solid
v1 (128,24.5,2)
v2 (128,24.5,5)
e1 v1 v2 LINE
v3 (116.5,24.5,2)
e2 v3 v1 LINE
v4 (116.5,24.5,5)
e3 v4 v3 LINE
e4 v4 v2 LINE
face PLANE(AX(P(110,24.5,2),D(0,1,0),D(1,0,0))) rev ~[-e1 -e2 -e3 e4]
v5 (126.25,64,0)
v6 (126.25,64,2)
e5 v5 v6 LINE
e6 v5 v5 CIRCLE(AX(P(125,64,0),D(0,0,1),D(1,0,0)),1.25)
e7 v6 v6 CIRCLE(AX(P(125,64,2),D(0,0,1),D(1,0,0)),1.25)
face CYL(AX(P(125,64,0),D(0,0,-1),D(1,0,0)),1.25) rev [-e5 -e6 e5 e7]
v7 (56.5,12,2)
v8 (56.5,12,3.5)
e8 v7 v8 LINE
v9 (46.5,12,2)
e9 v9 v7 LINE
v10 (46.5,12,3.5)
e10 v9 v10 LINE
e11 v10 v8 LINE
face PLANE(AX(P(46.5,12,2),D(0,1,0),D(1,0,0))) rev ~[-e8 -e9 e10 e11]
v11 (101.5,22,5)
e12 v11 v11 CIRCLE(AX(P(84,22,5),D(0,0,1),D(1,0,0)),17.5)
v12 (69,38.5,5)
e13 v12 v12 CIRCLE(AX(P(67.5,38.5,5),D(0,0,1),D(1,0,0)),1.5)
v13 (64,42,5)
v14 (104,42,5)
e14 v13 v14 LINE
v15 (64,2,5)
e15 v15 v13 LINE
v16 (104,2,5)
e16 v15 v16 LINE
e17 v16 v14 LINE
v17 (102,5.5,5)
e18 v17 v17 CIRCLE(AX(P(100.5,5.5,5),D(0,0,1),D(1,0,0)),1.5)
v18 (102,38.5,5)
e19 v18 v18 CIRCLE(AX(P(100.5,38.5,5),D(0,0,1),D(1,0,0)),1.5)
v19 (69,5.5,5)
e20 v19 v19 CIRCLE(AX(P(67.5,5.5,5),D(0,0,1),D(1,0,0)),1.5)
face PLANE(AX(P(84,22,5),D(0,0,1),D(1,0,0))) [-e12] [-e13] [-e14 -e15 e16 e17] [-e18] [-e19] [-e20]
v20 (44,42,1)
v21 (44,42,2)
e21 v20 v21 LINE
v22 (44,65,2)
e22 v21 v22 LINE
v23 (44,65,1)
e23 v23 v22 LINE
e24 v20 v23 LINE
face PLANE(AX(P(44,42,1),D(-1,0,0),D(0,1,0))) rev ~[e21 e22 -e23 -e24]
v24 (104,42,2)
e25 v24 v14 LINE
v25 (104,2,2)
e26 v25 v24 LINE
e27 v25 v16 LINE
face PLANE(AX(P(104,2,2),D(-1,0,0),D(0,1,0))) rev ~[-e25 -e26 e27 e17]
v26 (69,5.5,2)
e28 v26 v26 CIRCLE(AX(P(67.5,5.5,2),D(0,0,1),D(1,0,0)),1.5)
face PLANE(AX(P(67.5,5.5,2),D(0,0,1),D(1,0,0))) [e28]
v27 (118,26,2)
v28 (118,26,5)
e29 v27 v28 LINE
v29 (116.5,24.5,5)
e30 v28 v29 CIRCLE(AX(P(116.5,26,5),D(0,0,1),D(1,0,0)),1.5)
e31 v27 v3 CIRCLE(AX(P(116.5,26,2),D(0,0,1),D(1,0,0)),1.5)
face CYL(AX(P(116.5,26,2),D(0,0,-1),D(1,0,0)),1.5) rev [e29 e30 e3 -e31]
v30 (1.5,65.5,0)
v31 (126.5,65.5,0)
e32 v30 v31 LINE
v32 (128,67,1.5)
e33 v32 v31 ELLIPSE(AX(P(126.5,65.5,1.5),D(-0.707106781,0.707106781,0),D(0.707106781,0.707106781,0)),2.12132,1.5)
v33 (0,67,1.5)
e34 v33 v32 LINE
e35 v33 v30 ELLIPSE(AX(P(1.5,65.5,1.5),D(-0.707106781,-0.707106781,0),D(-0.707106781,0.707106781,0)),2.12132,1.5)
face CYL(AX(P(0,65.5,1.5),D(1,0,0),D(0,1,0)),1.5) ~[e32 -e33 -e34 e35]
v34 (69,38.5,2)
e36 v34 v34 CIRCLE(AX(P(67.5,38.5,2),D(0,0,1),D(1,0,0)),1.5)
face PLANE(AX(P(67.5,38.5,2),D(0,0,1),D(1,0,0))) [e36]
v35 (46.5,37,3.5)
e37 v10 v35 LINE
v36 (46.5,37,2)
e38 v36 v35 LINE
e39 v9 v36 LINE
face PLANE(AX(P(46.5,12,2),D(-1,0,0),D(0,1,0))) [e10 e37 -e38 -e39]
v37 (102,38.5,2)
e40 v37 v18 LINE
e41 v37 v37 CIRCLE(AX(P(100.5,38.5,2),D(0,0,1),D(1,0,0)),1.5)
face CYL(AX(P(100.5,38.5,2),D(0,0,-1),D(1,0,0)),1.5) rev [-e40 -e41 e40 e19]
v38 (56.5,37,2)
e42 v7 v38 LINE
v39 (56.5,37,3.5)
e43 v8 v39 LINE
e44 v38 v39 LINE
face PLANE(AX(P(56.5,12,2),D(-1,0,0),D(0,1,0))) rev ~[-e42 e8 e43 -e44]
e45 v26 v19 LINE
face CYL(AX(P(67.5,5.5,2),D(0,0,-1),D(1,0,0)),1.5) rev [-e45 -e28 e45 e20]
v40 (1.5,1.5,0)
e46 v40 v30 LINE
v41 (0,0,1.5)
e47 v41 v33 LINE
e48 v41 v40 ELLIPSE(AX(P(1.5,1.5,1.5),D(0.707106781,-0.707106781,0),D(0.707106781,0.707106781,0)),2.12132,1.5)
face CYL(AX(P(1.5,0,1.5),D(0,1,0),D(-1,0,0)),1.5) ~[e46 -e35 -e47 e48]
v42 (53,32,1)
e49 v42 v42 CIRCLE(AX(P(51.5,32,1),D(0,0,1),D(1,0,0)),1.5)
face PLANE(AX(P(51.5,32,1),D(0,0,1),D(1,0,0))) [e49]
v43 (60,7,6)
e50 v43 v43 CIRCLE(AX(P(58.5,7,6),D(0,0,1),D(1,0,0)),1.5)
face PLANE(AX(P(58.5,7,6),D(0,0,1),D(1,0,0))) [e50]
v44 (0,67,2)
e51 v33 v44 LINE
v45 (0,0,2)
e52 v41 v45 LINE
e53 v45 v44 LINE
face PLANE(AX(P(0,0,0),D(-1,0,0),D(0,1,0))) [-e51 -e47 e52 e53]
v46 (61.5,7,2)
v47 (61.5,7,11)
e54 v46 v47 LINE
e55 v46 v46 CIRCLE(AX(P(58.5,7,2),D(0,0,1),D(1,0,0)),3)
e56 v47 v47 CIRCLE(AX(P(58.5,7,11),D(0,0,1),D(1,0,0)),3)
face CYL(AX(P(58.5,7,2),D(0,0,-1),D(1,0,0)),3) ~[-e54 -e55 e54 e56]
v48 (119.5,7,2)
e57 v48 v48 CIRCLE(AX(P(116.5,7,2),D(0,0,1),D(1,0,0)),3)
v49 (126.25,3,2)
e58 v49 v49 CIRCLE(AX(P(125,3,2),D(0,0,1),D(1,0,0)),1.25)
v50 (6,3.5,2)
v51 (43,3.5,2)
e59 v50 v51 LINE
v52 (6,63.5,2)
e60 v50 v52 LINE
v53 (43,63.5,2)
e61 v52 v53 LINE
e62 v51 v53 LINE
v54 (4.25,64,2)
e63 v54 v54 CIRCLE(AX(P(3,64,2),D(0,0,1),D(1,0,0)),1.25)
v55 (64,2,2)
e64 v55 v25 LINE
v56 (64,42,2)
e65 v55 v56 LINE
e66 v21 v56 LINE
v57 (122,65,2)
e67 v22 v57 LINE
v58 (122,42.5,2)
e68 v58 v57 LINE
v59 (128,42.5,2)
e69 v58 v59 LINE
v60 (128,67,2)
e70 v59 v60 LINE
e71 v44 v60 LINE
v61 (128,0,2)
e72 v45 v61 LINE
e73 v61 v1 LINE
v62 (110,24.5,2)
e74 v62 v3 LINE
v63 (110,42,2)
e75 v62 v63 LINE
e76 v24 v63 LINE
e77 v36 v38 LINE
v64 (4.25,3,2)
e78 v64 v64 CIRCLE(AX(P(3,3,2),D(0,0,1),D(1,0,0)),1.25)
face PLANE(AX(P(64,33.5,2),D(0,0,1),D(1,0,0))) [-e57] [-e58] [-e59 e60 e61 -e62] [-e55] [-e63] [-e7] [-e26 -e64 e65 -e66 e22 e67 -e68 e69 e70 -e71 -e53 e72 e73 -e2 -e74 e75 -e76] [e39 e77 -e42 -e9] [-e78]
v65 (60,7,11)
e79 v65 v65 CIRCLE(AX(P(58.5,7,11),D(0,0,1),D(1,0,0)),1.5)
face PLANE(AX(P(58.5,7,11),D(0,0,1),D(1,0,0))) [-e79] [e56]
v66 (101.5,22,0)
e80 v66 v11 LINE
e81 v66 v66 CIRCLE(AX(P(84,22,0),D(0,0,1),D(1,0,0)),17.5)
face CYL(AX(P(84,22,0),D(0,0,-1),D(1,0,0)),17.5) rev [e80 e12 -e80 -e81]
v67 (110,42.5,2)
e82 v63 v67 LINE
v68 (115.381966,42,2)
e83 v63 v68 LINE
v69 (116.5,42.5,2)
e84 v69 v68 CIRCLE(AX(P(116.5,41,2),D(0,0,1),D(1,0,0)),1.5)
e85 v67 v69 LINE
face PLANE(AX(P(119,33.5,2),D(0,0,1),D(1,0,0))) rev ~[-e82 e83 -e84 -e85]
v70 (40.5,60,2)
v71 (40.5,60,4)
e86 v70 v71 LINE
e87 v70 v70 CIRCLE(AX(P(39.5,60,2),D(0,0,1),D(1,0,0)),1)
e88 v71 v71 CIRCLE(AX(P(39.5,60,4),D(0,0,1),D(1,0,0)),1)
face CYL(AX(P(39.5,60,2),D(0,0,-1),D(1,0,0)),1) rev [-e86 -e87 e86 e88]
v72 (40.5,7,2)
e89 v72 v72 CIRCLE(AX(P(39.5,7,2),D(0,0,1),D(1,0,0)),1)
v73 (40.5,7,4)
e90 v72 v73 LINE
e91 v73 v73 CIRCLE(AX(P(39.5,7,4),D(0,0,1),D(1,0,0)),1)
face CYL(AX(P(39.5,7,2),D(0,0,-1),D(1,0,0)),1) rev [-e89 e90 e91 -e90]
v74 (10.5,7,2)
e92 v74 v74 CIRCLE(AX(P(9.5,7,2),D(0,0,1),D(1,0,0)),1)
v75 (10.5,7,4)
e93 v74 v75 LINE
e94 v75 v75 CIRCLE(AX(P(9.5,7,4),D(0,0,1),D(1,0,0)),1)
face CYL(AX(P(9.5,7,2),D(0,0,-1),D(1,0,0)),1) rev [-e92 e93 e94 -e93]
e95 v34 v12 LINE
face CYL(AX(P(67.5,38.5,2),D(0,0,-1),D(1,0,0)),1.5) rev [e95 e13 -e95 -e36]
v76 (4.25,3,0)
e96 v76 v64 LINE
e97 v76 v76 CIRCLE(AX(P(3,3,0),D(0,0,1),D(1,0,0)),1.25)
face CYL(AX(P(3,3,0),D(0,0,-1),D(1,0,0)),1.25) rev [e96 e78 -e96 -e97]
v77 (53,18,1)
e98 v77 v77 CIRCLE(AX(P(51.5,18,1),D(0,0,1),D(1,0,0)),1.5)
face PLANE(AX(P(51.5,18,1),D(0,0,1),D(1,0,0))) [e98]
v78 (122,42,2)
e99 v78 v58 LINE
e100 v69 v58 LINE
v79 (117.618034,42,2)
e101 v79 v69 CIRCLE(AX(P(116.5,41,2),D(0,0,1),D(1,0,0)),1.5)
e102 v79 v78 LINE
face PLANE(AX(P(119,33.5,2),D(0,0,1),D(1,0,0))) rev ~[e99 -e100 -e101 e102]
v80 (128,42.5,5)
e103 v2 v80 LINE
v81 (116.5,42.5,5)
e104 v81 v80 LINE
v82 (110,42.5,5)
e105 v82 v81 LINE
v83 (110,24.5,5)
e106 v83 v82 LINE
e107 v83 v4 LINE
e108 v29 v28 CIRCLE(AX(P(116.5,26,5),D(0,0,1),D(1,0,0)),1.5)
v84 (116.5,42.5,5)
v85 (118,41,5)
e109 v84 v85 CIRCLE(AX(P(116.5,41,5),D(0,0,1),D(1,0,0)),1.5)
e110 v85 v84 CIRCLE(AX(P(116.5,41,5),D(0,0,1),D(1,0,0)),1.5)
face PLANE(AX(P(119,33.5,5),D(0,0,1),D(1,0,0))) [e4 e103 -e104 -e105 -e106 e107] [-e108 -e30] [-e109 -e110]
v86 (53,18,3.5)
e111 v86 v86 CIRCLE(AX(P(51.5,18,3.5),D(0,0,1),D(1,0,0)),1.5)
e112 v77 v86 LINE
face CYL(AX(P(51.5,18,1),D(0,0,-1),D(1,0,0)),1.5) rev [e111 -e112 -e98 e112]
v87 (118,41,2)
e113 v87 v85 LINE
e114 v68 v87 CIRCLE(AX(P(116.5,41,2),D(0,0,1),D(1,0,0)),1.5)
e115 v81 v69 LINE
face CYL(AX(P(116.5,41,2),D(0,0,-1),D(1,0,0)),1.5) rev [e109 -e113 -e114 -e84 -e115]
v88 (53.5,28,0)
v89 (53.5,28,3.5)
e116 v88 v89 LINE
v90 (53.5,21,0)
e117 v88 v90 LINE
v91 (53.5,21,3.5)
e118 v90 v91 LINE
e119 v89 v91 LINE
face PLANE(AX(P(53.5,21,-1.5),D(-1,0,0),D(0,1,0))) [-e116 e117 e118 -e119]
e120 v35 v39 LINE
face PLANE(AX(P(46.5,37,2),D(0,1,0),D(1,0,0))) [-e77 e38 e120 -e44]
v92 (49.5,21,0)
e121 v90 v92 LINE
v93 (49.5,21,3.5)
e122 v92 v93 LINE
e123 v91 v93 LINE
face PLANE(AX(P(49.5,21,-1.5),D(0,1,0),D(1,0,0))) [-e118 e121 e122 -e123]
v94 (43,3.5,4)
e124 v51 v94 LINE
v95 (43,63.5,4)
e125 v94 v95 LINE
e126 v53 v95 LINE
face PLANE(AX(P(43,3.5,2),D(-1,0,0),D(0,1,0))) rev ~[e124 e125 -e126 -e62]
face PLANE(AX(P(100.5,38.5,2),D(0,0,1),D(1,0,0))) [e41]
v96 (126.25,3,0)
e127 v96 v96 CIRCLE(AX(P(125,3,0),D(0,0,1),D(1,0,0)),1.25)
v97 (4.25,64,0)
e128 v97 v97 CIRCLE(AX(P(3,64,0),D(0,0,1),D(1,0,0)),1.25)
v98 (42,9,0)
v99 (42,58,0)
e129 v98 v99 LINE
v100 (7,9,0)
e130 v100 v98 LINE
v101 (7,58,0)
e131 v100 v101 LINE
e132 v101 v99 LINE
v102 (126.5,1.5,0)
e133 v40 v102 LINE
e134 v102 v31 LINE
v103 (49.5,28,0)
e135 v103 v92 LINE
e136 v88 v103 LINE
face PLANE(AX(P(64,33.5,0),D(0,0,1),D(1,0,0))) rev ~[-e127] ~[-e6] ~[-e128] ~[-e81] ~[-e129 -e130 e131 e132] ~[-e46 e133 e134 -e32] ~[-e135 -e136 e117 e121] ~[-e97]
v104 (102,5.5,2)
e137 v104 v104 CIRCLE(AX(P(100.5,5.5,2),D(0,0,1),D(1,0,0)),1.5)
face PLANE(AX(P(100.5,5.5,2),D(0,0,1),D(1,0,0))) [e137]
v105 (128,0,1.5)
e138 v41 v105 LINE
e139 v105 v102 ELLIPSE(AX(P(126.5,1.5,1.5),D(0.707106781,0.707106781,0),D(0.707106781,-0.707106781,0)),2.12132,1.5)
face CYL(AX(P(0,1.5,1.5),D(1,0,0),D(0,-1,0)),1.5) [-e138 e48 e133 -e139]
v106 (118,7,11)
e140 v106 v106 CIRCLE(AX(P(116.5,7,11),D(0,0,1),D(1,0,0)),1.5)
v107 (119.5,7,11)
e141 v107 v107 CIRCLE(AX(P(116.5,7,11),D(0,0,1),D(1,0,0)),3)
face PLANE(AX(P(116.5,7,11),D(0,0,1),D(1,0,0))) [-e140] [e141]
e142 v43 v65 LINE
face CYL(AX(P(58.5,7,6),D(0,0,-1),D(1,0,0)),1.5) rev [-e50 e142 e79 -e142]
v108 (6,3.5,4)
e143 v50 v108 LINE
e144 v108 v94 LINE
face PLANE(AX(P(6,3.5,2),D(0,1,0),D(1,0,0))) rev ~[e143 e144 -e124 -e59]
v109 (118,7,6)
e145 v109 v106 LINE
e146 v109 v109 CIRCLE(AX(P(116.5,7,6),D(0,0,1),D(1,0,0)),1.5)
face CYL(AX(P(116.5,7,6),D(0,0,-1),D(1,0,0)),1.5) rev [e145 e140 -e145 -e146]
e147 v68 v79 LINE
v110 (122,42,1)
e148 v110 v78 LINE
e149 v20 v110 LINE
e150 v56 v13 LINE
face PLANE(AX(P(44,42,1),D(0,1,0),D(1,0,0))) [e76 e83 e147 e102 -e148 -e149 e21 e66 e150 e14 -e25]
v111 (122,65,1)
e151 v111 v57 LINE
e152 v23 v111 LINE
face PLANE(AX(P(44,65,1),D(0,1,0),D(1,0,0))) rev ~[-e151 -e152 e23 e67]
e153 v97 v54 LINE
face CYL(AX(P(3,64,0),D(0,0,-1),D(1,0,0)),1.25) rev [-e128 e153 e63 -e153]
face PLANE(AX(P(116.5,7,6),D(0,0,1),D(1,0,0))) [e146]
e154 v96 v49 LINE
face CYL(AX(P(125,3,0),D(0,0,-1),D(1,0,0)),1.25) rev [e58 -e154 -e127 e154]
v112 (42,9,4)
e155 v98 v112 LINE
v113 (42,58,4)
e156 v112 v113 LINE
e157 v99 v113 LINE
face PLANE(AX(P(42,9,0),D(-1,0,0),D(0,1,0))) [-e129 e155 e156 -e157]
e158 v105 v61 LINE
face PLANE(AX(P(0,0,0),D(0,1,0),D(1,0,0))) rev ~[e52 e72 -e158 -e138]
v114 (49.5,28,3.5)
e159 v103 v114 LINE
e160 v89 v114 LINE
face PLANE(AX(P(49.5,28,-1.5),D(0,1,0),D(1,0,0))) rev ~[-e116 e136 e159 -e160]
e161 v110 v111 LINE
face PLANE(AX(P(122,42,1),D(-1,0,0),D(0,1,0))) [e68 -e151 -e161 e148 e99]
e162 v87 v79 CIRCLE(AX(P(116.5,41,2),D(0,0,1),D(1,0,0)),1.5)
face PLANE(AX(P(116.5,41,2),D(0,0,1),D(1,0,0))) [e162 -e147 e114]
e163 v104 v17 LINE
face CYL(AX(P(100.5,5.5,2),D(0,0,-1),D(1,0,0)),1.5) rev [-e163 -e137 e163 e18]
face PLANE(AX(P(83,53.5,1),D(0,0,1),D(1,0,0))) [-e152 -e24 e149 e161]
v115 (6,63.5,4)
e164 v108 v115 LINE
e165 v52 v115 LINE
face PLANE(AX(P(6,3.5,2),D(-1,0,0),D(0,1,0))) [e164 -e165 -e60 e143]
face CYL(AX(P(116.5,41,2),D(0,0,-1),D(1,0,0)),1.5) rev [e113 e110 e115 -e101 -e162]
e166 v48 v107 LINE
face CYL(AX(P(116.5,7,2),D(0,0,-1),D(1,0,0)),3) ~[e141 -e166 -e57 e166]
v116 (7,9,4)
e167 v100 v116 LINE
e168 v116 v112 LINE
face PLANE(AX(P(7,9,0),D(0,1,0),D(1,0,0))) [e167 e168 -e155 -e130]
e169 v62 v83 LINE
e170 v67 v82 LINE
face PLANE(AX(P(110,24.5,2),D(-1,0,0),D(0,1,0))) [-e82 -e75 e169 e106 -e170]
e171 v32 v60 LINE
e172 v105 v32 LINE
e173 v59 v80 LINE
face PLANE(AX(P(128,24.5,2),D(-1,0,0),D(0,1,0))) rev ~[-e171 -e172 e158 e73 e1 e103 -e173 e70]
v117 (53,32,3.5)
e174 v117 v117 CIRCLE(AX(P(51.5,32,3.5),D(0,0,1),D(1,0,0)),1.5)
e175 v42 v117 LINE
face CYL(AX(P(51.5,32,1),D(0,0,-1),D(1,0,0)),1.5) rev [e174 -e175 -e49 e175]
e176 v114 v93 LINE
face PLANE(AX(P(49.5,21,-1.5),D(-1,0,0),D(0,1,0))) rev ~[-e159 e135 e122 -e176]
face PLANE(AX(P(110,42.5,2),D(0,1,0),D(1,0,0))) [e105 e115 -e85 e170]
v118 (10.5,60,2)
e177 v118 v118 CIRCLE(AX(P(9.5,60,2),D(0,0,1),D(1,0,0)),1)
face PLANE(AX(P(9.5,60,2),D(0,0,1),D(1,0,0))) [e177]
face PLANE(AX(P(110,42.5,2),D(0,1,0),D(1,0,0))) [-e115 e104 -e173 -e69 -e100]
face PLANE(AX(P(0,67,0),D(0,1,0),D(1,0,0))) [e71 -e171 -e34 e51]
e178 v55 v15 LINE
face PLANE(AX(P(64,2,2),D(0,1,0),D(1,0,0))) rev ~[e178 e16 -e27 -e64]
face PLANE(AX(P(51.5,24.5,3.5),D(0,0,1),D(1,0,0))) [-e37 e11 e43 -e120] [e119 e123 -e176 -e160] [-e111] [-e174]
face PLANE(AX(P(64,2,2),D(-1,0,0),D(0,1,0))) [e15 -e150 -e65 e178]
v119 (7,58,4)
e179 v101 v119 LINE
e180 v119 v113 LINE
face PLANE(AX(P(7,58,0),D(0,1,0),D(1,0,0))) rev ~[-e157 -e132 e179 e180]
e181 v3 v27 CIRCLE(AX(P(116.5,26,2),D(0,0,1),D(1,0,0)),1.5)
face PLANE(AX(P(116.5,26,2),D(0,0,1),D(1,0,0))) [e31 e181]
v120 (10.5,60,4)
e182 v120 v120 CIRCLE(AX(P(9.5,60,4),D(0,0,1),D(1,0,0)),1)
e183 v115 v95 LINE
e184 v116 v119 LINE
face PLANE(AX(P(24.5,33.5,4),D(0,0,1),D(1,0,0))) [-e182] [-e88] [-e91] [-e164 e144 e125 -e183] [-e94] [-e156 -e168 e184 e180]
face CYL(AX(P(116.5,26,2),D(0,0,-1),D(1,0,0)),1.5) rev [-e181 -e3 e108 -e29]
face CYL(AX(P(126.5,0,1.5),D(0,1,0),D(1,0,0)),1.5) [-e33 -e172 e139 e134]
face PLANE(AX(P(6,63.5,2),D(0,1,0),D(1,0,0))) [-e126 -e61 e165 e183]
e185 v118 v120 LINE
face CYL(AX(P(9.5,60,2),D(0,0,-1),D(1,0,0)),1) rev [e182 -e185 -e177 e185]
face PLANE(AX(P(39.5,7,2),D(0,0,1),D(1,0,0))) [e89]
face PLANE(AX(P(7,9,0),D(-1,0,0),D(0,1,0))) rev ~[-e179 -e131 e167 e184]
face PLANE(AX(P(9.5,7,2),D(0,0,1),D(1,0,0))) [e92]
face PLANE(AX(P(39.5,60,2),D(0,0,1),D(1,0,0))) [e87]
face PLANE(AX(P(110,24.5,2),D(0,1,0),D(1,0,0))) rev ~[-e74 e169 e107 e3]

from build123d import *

# Parameters (mm, degrees)
BOX_W             = 128
BOX_H             = 67
BOX_DEPTH         = 2
BOX001_W          = 37
BOX001_H          = 60
BOX001_DEPTH      = 2
BOX002_W          = 35
BOX002_H          = 49
BOX002_DEPTH      = 4
BOX003_W          = 78
BOX003_H          = 23
BOX003_DEPTH      = 1
BOX004_W          = 40
BOX004_H          = 40
BOX004_DEPTH      = 3
CYLINDER_R        = 17.5
CYLINDER_DEPTH    = 5
CYLINDER001_R     = 1.5
CYLINDER001_DEPTH = 3
CYLINDER002_R     = 1.5
CYLINDER002_DEPTH = 3
CYLINDER003_R     = 1.5
CYLINDER003_DEPTH = 3
CYLINDER004_R     = 1.5
CYLINDER004_DEPTH = 3
BOX005_W          = 18
BOX005_H          = 18
BOX005_DEPTH      = 3
CYLINDER005_R     = 1.5
CYLINDER005_DEPTH = 3
CYLINDER006_R     = 1.5
CYLINDER006_DEPTH = 3
CYLINDER007_R     = 3
CYLINDER007_DEPTH = 9
CYLINDER008_R     = 1.5
CYLINDER008_DEPTH = 5
CYLINDER009_R     = 3
CYLINDER009_DEPTH = 9
CYLINDER010_R     = 1.5
CYLINDER010_DEPTH = 5
BOX006_W          = 10
BOX006_H          = 25
BOX006_DEPTH      = 1.5
BOX007_W          = 4
BOX007_H          = 7
BOX007_DEPTH      = 6
CYLINDER011_R     = 1.5
CYLINDER011_DEPTH = 2.5
CYLINDER012_R     = 1.5
CYLINDER012_DEPTH = 2.5
CYLINDER013_R     = 1
CYLINDER013_DEPTH = 2
CYLINDER014_R     = 1
CYLINDER014_DEPTH = 2
CYLINDER015_R     = 1
CYLINDER015_DEPTH = 2
CYLINDER016_R     = 1
CYLINDER016_DEPTH = 2
CYLINDER017_R     = 1.25
CYLINDER017_DEPTH = 2
CYLINDER018_R     = 1.25
CYLINDER018_DEPTH = 2
CYLINDER019_R     = 1.25
CYLINDER019_DEPTH = 2
CYLINDER020_R     = 1.25
CYLINDER020_DEPTH = 2
FILLET_R          = 1.5


with BuildPart() as part:
    # Box → Box (join)
    with BuildSketch(Plane.XY):
        with Locations((64, 33.5)):
            Rectangle(BOX_W, BOX_H)
    extrude(amount=BOX_DEPTH)

    # Box001 → Box001 (join)
    with BuildSketch(Plane(origin=(6, 3.5, 2), x_dir=(1, 0, 0), z_dir=(0, 0, 1))):
        with Locations((18.5, 30)):
            Rectangle(BOX001_W, BOX001_H)
    extrude(amount=BOX001_DEPTH)

    # Box002 → Box002 (cut)
    with BuildSketch(Plane(origin=(7, 9, 0), x_dir=(1, 0, 0), z_dir=(0, 0, 1))):
        with Locations((17.5, 24.5)):
            Rectangle(BOX002_W, BOX002_H)
    extrude(amount=BOX002_DEPTH, mode=Mode.SUBTRACT)

    # Box003 → Box003 (cut)
    with BuildSketch(Plane(origin=(44, 42, 1), x_dir=(1, 0, 0), z_dir=(0, 0, 1))):
        with Locations((39, 11.5)):
            Rectangle(BOX003_W, BOX003_H)
    extrude(amount=BOX003_DEPTH, mode=Mode.SUBTRACT)

    # Box004 → Box004 (join)
    with BuildSketch(Plane(origin=(64, 2, 2), x_dir=(1, 0, 0), z_dir=(0, 0, 1))):
        with Locations((20, 20)):
            Rectangle(BOX004_W, BOX004_H)
    extrude(amount=BOX004_DEPTH)

    # Cylinder → Cylinder (cut)
    with BuildSketch(Plane(origin=(84, 22, 0), x_dir=(1, 0, 0), z_dir=(0, 0, 1))):
        Circle(CYLINDER_R)
    extrude(amount=CYLINDER_DEPTH, mode=Mode.SUBTRACT)

    # Cylinder001 → Cylinder001 (cut)
    with BuildSketch(Plane(origin=(67.5, 5.5, 2), x_dir=(1, 0, 0), z_dir=(0, 0, 1))):
        Circle(CYLINDER001_R)
    extrude(amount=CYLINDER001_DEPTH, mode=Mode.SUBTRACT)

    # Cylinder002 → Cylinder002 (cut)
    with BuildSketch(Plane(origin=(67.5, 38.5, 2), x_dir=(1, 0, 0), z_dir=(0, 0, 1))):
        Circle(CYLINDER002_R)
    extrude(amount=CYLINDER002_DEPTH, mode=Mode.SUBTRACT)

    # Cylinder003 → Cylinder003 (cut)
    with BuildSketch(Plane(origin=(100.5, 38.5, 2), x_dir=(1, 0, 0), z_dir=(0, 0, 1))):
        Circle(CYLINDER003_R)
    extrude(amount=CYLINDER003_DEPTH, mode=Mode.SUBTRACT)

    # Cylinder004 → Cylinder004 (cut)
    with BuildSketch(Plane(origin=(100.5, 5.5, 2), x_dir=(1, 0, 0), z_dir=(0, 0, 1))):
        Circle(CYLINDER004_R)
    extrude(amount=CYLINDER004_DEPTH, mode=Mode.SUBTRACT)

    # Box005 → Box005 (join)
    with BuildSketch(Plane(origin=(110, 24.5, 2), x_dir=(1, 0, 0), z_dir=(0, 0, 1))):
        with Locations((9, 9)):
            Rectangle(BOX005_W, BOX005_H)
    extrude(amount=BOX005_DEPTH)

    # Cylinder005 → Cylinder005 (cut)
    with BuildSketch(Plane(origin=(116.5, 26, 2), x_dir=(1, 0, 0), z_dir=(0, 0, 1))):
        Circle(CYLINDER005_R)
    extrude(amount=CYLINDER005_DEPTH, mode=Mode.SUBTRACT)

    # Cylinder006 → Cylinder006 (cut)
    with BuildSketch(Plane(origin=(116.5, 41, 2), x_dir=(1, 0, 0), z_dir=(0, 0, 1))):
        Circle(CYLINDER006_R)
    extrude(amount=CYLINDER006_DEPTH, mode=Mode.SUBTRACT)

    # Cylinder007 → Cylinder007 (join)
    with BuildSketch(Plane(origin=(116.5, 7, 2), x_dir=(1, 0, 0), z_dir=(0, 0, 1))):
        Circle(CYLINDER007_R)
    extrude(amount=CYLINDER007_DEPTH)

    # Cylinder008 → Cylinder008 (cut)
    with BuildSketch(Plane(origin=(116.5, 7, 6), x_dir=(1, 0, 0), z_dir=(0, 0, 1))):
        Circle(CYLINDER008_R)
    extrude(amount=CYLINDER008_DEPTH, mode=Mode.SUBTRACT)

    # Cylinder009 → Cylinder009 (join)
    with BuildSketch(Plane(origin=(58.5, 7, 2), x_dir=(1, 0, 0), z_dir=(0, 0, 1))):
        Circle(CYLINDER009_R)
    extrude(amount=CYLINDER009_DEPTH)

    # Cylinder010 → Cylinder010 (cut)
    with BuildSketch(Plane(origin=(58.5, 7, 6), x_dir=(1, 0, 0), z_dir=(0, 0, 1))):
        Circle(CYLINDER010_R)
    extrude(amount=CYLINDER010_DEPTH, mode=Mode.SUBTRACT)

    # Box006 → Box006 (join)
    with BuildSketch(Plane(origin=(46.5, 12, 2), x_dir=(1, 0, 0), z_dir=(0, 0, 1))):
        with Locations((5, 12.5)):
            Rectangle(BOX006_W, BOX006_H)
    extrude(amount=BOX006_DEPTH)

    # Box007 → Box007 (cut)
    with BuildSketch(Plane(origin=(49.5, 21, -1.5), x_dir=(1, 0, 0), z_dir=(0, 0, 1))):
        with Locations((2, 3.5)):
            Rectangle(BOX007_W, BOX007_H)
    extrude(amount=BOX007_DEPTH, mode=Mode.SUBTRACT)

    # Cylinder011 → Cylinder011 (cut)
    with BuildSketch(Plane(origin=(51.5, 18, 1), x_dir=(1, 0, 0), z_dir=(0, 0, 1))):
        Circle(CYLINDER011_R)
    extrude(amount=CYLINDER011_DEPTH, mode=Mode.SUBTRACT)

    # Cylinder012 → Cylinder012 (cut)
    with BuildSketch(Plane(origin=(51.5, 32, 1), x_dir=(1, 0, 0), z_dir=(0, 0, 1))):
        Circle(CYLINDER012_R)
    extrude(amount=CYLINDER012_DEPTH, mode=Mode.SUBTRACT)

    # Cylinder013 → Cylinder013 (cut)
    with BuildSketch(Plane(origin=(9.5, 7, 2), x_dir=(1, 0, 0), z_dir=(0, 0, 1))):
        Circle(CYLINDER013_R)
    extrude(amount=CYLINDER013_DEPTH, mode=Mode.SUBTRACT)

    # Cylinder014 → Cylinder014 (cut)
    with BuildSketch(Plane(origin=(9.5, 60, 2), x_dir=(1, 0, 0), z_dir=(0, 0, 1))):
        Circle(CYLINDER014_R)
    extrude(amount=CYLINDER014_DEPTH, mode=Mode.SUBTRACT)

    # Cylinder015 → Cylinder015 (cut)
    with BuildSketch(Plane(origin=(39.5, 60, 2), x_dir=(1, 0, 0), z_dir=(0, 0, 1))):
        Circle(CYLINDER015_R)
    extrude(amount=CYLINDER015_DEPTH, mode=Mode.SUBTRACT)

    # Cylinder016 → Cylinder016 (cut)
    with BuildSketch(Plane(origin=(39.5, 7, 2), x_dir=(1, 0, 0), z_dir=(0, 0, 1))):
        Circle(CYLINDER016_R)
    extrude(amount=CYLINDER016_DEPTH, mode=Mode.SUBTRACT)

    # Cylinder017 → Cylinder017 (cut)
    with BuildSketch(Plane(origin=(3, 3, 0), x_dir=(1, 0, 0), z_dir=(0, 0, 1))):
        Circle(CYLINDER017_R)
    extrude(amount=CYLINDER017_DEPTH, mode=Mode.SUBTRACT)

    # Cylinder018 → Cylinder018 (cut)
    with BuildSketch(Plane(origin=(3, 64, 0), x_dir=(1, 0, 0), z_dir=(0, 0, 1))):
        Circle(CYLINDER018_R)
    extrude(amount=CYLINDER018_DEPTH, mode=Mode.SUBTRACT)

    # Cylinder019 → Cylinder019 (cut)
    with BuildSketch(Plane(origin=(125, 64, 0), x_dir=(1, 0, 0), z_dir=(0, 0, 1))):
        Circle(CYLINDER019_R)
    extrude(amount=CYLINDER019_DEPTH, mode=Mode.SUBTRACT)

    # Cylinder020 → Cylinder020 (cut)
    with BuildSketch(Plane(origin=(125, 3, 0), x_dir=(1, 0, 0), z_dir=(0, 0, 1))):
        Circle(CYLINDER020_R)
    extrude(amount=CYLINDER020_DEPTH, mode=Mode.SUBTRACT)

    # Fillet
    fillet_edges = [part.edges().sort_by_distance(p)[0] for p in [
        (64, 0, 0),
        (0, 33.5, 0),
        (64, 67, 0),
        (128, 33.5, 0),
    ]]
    fillet(fillet_edges, radius=FILLET_R)


solid = part.part
